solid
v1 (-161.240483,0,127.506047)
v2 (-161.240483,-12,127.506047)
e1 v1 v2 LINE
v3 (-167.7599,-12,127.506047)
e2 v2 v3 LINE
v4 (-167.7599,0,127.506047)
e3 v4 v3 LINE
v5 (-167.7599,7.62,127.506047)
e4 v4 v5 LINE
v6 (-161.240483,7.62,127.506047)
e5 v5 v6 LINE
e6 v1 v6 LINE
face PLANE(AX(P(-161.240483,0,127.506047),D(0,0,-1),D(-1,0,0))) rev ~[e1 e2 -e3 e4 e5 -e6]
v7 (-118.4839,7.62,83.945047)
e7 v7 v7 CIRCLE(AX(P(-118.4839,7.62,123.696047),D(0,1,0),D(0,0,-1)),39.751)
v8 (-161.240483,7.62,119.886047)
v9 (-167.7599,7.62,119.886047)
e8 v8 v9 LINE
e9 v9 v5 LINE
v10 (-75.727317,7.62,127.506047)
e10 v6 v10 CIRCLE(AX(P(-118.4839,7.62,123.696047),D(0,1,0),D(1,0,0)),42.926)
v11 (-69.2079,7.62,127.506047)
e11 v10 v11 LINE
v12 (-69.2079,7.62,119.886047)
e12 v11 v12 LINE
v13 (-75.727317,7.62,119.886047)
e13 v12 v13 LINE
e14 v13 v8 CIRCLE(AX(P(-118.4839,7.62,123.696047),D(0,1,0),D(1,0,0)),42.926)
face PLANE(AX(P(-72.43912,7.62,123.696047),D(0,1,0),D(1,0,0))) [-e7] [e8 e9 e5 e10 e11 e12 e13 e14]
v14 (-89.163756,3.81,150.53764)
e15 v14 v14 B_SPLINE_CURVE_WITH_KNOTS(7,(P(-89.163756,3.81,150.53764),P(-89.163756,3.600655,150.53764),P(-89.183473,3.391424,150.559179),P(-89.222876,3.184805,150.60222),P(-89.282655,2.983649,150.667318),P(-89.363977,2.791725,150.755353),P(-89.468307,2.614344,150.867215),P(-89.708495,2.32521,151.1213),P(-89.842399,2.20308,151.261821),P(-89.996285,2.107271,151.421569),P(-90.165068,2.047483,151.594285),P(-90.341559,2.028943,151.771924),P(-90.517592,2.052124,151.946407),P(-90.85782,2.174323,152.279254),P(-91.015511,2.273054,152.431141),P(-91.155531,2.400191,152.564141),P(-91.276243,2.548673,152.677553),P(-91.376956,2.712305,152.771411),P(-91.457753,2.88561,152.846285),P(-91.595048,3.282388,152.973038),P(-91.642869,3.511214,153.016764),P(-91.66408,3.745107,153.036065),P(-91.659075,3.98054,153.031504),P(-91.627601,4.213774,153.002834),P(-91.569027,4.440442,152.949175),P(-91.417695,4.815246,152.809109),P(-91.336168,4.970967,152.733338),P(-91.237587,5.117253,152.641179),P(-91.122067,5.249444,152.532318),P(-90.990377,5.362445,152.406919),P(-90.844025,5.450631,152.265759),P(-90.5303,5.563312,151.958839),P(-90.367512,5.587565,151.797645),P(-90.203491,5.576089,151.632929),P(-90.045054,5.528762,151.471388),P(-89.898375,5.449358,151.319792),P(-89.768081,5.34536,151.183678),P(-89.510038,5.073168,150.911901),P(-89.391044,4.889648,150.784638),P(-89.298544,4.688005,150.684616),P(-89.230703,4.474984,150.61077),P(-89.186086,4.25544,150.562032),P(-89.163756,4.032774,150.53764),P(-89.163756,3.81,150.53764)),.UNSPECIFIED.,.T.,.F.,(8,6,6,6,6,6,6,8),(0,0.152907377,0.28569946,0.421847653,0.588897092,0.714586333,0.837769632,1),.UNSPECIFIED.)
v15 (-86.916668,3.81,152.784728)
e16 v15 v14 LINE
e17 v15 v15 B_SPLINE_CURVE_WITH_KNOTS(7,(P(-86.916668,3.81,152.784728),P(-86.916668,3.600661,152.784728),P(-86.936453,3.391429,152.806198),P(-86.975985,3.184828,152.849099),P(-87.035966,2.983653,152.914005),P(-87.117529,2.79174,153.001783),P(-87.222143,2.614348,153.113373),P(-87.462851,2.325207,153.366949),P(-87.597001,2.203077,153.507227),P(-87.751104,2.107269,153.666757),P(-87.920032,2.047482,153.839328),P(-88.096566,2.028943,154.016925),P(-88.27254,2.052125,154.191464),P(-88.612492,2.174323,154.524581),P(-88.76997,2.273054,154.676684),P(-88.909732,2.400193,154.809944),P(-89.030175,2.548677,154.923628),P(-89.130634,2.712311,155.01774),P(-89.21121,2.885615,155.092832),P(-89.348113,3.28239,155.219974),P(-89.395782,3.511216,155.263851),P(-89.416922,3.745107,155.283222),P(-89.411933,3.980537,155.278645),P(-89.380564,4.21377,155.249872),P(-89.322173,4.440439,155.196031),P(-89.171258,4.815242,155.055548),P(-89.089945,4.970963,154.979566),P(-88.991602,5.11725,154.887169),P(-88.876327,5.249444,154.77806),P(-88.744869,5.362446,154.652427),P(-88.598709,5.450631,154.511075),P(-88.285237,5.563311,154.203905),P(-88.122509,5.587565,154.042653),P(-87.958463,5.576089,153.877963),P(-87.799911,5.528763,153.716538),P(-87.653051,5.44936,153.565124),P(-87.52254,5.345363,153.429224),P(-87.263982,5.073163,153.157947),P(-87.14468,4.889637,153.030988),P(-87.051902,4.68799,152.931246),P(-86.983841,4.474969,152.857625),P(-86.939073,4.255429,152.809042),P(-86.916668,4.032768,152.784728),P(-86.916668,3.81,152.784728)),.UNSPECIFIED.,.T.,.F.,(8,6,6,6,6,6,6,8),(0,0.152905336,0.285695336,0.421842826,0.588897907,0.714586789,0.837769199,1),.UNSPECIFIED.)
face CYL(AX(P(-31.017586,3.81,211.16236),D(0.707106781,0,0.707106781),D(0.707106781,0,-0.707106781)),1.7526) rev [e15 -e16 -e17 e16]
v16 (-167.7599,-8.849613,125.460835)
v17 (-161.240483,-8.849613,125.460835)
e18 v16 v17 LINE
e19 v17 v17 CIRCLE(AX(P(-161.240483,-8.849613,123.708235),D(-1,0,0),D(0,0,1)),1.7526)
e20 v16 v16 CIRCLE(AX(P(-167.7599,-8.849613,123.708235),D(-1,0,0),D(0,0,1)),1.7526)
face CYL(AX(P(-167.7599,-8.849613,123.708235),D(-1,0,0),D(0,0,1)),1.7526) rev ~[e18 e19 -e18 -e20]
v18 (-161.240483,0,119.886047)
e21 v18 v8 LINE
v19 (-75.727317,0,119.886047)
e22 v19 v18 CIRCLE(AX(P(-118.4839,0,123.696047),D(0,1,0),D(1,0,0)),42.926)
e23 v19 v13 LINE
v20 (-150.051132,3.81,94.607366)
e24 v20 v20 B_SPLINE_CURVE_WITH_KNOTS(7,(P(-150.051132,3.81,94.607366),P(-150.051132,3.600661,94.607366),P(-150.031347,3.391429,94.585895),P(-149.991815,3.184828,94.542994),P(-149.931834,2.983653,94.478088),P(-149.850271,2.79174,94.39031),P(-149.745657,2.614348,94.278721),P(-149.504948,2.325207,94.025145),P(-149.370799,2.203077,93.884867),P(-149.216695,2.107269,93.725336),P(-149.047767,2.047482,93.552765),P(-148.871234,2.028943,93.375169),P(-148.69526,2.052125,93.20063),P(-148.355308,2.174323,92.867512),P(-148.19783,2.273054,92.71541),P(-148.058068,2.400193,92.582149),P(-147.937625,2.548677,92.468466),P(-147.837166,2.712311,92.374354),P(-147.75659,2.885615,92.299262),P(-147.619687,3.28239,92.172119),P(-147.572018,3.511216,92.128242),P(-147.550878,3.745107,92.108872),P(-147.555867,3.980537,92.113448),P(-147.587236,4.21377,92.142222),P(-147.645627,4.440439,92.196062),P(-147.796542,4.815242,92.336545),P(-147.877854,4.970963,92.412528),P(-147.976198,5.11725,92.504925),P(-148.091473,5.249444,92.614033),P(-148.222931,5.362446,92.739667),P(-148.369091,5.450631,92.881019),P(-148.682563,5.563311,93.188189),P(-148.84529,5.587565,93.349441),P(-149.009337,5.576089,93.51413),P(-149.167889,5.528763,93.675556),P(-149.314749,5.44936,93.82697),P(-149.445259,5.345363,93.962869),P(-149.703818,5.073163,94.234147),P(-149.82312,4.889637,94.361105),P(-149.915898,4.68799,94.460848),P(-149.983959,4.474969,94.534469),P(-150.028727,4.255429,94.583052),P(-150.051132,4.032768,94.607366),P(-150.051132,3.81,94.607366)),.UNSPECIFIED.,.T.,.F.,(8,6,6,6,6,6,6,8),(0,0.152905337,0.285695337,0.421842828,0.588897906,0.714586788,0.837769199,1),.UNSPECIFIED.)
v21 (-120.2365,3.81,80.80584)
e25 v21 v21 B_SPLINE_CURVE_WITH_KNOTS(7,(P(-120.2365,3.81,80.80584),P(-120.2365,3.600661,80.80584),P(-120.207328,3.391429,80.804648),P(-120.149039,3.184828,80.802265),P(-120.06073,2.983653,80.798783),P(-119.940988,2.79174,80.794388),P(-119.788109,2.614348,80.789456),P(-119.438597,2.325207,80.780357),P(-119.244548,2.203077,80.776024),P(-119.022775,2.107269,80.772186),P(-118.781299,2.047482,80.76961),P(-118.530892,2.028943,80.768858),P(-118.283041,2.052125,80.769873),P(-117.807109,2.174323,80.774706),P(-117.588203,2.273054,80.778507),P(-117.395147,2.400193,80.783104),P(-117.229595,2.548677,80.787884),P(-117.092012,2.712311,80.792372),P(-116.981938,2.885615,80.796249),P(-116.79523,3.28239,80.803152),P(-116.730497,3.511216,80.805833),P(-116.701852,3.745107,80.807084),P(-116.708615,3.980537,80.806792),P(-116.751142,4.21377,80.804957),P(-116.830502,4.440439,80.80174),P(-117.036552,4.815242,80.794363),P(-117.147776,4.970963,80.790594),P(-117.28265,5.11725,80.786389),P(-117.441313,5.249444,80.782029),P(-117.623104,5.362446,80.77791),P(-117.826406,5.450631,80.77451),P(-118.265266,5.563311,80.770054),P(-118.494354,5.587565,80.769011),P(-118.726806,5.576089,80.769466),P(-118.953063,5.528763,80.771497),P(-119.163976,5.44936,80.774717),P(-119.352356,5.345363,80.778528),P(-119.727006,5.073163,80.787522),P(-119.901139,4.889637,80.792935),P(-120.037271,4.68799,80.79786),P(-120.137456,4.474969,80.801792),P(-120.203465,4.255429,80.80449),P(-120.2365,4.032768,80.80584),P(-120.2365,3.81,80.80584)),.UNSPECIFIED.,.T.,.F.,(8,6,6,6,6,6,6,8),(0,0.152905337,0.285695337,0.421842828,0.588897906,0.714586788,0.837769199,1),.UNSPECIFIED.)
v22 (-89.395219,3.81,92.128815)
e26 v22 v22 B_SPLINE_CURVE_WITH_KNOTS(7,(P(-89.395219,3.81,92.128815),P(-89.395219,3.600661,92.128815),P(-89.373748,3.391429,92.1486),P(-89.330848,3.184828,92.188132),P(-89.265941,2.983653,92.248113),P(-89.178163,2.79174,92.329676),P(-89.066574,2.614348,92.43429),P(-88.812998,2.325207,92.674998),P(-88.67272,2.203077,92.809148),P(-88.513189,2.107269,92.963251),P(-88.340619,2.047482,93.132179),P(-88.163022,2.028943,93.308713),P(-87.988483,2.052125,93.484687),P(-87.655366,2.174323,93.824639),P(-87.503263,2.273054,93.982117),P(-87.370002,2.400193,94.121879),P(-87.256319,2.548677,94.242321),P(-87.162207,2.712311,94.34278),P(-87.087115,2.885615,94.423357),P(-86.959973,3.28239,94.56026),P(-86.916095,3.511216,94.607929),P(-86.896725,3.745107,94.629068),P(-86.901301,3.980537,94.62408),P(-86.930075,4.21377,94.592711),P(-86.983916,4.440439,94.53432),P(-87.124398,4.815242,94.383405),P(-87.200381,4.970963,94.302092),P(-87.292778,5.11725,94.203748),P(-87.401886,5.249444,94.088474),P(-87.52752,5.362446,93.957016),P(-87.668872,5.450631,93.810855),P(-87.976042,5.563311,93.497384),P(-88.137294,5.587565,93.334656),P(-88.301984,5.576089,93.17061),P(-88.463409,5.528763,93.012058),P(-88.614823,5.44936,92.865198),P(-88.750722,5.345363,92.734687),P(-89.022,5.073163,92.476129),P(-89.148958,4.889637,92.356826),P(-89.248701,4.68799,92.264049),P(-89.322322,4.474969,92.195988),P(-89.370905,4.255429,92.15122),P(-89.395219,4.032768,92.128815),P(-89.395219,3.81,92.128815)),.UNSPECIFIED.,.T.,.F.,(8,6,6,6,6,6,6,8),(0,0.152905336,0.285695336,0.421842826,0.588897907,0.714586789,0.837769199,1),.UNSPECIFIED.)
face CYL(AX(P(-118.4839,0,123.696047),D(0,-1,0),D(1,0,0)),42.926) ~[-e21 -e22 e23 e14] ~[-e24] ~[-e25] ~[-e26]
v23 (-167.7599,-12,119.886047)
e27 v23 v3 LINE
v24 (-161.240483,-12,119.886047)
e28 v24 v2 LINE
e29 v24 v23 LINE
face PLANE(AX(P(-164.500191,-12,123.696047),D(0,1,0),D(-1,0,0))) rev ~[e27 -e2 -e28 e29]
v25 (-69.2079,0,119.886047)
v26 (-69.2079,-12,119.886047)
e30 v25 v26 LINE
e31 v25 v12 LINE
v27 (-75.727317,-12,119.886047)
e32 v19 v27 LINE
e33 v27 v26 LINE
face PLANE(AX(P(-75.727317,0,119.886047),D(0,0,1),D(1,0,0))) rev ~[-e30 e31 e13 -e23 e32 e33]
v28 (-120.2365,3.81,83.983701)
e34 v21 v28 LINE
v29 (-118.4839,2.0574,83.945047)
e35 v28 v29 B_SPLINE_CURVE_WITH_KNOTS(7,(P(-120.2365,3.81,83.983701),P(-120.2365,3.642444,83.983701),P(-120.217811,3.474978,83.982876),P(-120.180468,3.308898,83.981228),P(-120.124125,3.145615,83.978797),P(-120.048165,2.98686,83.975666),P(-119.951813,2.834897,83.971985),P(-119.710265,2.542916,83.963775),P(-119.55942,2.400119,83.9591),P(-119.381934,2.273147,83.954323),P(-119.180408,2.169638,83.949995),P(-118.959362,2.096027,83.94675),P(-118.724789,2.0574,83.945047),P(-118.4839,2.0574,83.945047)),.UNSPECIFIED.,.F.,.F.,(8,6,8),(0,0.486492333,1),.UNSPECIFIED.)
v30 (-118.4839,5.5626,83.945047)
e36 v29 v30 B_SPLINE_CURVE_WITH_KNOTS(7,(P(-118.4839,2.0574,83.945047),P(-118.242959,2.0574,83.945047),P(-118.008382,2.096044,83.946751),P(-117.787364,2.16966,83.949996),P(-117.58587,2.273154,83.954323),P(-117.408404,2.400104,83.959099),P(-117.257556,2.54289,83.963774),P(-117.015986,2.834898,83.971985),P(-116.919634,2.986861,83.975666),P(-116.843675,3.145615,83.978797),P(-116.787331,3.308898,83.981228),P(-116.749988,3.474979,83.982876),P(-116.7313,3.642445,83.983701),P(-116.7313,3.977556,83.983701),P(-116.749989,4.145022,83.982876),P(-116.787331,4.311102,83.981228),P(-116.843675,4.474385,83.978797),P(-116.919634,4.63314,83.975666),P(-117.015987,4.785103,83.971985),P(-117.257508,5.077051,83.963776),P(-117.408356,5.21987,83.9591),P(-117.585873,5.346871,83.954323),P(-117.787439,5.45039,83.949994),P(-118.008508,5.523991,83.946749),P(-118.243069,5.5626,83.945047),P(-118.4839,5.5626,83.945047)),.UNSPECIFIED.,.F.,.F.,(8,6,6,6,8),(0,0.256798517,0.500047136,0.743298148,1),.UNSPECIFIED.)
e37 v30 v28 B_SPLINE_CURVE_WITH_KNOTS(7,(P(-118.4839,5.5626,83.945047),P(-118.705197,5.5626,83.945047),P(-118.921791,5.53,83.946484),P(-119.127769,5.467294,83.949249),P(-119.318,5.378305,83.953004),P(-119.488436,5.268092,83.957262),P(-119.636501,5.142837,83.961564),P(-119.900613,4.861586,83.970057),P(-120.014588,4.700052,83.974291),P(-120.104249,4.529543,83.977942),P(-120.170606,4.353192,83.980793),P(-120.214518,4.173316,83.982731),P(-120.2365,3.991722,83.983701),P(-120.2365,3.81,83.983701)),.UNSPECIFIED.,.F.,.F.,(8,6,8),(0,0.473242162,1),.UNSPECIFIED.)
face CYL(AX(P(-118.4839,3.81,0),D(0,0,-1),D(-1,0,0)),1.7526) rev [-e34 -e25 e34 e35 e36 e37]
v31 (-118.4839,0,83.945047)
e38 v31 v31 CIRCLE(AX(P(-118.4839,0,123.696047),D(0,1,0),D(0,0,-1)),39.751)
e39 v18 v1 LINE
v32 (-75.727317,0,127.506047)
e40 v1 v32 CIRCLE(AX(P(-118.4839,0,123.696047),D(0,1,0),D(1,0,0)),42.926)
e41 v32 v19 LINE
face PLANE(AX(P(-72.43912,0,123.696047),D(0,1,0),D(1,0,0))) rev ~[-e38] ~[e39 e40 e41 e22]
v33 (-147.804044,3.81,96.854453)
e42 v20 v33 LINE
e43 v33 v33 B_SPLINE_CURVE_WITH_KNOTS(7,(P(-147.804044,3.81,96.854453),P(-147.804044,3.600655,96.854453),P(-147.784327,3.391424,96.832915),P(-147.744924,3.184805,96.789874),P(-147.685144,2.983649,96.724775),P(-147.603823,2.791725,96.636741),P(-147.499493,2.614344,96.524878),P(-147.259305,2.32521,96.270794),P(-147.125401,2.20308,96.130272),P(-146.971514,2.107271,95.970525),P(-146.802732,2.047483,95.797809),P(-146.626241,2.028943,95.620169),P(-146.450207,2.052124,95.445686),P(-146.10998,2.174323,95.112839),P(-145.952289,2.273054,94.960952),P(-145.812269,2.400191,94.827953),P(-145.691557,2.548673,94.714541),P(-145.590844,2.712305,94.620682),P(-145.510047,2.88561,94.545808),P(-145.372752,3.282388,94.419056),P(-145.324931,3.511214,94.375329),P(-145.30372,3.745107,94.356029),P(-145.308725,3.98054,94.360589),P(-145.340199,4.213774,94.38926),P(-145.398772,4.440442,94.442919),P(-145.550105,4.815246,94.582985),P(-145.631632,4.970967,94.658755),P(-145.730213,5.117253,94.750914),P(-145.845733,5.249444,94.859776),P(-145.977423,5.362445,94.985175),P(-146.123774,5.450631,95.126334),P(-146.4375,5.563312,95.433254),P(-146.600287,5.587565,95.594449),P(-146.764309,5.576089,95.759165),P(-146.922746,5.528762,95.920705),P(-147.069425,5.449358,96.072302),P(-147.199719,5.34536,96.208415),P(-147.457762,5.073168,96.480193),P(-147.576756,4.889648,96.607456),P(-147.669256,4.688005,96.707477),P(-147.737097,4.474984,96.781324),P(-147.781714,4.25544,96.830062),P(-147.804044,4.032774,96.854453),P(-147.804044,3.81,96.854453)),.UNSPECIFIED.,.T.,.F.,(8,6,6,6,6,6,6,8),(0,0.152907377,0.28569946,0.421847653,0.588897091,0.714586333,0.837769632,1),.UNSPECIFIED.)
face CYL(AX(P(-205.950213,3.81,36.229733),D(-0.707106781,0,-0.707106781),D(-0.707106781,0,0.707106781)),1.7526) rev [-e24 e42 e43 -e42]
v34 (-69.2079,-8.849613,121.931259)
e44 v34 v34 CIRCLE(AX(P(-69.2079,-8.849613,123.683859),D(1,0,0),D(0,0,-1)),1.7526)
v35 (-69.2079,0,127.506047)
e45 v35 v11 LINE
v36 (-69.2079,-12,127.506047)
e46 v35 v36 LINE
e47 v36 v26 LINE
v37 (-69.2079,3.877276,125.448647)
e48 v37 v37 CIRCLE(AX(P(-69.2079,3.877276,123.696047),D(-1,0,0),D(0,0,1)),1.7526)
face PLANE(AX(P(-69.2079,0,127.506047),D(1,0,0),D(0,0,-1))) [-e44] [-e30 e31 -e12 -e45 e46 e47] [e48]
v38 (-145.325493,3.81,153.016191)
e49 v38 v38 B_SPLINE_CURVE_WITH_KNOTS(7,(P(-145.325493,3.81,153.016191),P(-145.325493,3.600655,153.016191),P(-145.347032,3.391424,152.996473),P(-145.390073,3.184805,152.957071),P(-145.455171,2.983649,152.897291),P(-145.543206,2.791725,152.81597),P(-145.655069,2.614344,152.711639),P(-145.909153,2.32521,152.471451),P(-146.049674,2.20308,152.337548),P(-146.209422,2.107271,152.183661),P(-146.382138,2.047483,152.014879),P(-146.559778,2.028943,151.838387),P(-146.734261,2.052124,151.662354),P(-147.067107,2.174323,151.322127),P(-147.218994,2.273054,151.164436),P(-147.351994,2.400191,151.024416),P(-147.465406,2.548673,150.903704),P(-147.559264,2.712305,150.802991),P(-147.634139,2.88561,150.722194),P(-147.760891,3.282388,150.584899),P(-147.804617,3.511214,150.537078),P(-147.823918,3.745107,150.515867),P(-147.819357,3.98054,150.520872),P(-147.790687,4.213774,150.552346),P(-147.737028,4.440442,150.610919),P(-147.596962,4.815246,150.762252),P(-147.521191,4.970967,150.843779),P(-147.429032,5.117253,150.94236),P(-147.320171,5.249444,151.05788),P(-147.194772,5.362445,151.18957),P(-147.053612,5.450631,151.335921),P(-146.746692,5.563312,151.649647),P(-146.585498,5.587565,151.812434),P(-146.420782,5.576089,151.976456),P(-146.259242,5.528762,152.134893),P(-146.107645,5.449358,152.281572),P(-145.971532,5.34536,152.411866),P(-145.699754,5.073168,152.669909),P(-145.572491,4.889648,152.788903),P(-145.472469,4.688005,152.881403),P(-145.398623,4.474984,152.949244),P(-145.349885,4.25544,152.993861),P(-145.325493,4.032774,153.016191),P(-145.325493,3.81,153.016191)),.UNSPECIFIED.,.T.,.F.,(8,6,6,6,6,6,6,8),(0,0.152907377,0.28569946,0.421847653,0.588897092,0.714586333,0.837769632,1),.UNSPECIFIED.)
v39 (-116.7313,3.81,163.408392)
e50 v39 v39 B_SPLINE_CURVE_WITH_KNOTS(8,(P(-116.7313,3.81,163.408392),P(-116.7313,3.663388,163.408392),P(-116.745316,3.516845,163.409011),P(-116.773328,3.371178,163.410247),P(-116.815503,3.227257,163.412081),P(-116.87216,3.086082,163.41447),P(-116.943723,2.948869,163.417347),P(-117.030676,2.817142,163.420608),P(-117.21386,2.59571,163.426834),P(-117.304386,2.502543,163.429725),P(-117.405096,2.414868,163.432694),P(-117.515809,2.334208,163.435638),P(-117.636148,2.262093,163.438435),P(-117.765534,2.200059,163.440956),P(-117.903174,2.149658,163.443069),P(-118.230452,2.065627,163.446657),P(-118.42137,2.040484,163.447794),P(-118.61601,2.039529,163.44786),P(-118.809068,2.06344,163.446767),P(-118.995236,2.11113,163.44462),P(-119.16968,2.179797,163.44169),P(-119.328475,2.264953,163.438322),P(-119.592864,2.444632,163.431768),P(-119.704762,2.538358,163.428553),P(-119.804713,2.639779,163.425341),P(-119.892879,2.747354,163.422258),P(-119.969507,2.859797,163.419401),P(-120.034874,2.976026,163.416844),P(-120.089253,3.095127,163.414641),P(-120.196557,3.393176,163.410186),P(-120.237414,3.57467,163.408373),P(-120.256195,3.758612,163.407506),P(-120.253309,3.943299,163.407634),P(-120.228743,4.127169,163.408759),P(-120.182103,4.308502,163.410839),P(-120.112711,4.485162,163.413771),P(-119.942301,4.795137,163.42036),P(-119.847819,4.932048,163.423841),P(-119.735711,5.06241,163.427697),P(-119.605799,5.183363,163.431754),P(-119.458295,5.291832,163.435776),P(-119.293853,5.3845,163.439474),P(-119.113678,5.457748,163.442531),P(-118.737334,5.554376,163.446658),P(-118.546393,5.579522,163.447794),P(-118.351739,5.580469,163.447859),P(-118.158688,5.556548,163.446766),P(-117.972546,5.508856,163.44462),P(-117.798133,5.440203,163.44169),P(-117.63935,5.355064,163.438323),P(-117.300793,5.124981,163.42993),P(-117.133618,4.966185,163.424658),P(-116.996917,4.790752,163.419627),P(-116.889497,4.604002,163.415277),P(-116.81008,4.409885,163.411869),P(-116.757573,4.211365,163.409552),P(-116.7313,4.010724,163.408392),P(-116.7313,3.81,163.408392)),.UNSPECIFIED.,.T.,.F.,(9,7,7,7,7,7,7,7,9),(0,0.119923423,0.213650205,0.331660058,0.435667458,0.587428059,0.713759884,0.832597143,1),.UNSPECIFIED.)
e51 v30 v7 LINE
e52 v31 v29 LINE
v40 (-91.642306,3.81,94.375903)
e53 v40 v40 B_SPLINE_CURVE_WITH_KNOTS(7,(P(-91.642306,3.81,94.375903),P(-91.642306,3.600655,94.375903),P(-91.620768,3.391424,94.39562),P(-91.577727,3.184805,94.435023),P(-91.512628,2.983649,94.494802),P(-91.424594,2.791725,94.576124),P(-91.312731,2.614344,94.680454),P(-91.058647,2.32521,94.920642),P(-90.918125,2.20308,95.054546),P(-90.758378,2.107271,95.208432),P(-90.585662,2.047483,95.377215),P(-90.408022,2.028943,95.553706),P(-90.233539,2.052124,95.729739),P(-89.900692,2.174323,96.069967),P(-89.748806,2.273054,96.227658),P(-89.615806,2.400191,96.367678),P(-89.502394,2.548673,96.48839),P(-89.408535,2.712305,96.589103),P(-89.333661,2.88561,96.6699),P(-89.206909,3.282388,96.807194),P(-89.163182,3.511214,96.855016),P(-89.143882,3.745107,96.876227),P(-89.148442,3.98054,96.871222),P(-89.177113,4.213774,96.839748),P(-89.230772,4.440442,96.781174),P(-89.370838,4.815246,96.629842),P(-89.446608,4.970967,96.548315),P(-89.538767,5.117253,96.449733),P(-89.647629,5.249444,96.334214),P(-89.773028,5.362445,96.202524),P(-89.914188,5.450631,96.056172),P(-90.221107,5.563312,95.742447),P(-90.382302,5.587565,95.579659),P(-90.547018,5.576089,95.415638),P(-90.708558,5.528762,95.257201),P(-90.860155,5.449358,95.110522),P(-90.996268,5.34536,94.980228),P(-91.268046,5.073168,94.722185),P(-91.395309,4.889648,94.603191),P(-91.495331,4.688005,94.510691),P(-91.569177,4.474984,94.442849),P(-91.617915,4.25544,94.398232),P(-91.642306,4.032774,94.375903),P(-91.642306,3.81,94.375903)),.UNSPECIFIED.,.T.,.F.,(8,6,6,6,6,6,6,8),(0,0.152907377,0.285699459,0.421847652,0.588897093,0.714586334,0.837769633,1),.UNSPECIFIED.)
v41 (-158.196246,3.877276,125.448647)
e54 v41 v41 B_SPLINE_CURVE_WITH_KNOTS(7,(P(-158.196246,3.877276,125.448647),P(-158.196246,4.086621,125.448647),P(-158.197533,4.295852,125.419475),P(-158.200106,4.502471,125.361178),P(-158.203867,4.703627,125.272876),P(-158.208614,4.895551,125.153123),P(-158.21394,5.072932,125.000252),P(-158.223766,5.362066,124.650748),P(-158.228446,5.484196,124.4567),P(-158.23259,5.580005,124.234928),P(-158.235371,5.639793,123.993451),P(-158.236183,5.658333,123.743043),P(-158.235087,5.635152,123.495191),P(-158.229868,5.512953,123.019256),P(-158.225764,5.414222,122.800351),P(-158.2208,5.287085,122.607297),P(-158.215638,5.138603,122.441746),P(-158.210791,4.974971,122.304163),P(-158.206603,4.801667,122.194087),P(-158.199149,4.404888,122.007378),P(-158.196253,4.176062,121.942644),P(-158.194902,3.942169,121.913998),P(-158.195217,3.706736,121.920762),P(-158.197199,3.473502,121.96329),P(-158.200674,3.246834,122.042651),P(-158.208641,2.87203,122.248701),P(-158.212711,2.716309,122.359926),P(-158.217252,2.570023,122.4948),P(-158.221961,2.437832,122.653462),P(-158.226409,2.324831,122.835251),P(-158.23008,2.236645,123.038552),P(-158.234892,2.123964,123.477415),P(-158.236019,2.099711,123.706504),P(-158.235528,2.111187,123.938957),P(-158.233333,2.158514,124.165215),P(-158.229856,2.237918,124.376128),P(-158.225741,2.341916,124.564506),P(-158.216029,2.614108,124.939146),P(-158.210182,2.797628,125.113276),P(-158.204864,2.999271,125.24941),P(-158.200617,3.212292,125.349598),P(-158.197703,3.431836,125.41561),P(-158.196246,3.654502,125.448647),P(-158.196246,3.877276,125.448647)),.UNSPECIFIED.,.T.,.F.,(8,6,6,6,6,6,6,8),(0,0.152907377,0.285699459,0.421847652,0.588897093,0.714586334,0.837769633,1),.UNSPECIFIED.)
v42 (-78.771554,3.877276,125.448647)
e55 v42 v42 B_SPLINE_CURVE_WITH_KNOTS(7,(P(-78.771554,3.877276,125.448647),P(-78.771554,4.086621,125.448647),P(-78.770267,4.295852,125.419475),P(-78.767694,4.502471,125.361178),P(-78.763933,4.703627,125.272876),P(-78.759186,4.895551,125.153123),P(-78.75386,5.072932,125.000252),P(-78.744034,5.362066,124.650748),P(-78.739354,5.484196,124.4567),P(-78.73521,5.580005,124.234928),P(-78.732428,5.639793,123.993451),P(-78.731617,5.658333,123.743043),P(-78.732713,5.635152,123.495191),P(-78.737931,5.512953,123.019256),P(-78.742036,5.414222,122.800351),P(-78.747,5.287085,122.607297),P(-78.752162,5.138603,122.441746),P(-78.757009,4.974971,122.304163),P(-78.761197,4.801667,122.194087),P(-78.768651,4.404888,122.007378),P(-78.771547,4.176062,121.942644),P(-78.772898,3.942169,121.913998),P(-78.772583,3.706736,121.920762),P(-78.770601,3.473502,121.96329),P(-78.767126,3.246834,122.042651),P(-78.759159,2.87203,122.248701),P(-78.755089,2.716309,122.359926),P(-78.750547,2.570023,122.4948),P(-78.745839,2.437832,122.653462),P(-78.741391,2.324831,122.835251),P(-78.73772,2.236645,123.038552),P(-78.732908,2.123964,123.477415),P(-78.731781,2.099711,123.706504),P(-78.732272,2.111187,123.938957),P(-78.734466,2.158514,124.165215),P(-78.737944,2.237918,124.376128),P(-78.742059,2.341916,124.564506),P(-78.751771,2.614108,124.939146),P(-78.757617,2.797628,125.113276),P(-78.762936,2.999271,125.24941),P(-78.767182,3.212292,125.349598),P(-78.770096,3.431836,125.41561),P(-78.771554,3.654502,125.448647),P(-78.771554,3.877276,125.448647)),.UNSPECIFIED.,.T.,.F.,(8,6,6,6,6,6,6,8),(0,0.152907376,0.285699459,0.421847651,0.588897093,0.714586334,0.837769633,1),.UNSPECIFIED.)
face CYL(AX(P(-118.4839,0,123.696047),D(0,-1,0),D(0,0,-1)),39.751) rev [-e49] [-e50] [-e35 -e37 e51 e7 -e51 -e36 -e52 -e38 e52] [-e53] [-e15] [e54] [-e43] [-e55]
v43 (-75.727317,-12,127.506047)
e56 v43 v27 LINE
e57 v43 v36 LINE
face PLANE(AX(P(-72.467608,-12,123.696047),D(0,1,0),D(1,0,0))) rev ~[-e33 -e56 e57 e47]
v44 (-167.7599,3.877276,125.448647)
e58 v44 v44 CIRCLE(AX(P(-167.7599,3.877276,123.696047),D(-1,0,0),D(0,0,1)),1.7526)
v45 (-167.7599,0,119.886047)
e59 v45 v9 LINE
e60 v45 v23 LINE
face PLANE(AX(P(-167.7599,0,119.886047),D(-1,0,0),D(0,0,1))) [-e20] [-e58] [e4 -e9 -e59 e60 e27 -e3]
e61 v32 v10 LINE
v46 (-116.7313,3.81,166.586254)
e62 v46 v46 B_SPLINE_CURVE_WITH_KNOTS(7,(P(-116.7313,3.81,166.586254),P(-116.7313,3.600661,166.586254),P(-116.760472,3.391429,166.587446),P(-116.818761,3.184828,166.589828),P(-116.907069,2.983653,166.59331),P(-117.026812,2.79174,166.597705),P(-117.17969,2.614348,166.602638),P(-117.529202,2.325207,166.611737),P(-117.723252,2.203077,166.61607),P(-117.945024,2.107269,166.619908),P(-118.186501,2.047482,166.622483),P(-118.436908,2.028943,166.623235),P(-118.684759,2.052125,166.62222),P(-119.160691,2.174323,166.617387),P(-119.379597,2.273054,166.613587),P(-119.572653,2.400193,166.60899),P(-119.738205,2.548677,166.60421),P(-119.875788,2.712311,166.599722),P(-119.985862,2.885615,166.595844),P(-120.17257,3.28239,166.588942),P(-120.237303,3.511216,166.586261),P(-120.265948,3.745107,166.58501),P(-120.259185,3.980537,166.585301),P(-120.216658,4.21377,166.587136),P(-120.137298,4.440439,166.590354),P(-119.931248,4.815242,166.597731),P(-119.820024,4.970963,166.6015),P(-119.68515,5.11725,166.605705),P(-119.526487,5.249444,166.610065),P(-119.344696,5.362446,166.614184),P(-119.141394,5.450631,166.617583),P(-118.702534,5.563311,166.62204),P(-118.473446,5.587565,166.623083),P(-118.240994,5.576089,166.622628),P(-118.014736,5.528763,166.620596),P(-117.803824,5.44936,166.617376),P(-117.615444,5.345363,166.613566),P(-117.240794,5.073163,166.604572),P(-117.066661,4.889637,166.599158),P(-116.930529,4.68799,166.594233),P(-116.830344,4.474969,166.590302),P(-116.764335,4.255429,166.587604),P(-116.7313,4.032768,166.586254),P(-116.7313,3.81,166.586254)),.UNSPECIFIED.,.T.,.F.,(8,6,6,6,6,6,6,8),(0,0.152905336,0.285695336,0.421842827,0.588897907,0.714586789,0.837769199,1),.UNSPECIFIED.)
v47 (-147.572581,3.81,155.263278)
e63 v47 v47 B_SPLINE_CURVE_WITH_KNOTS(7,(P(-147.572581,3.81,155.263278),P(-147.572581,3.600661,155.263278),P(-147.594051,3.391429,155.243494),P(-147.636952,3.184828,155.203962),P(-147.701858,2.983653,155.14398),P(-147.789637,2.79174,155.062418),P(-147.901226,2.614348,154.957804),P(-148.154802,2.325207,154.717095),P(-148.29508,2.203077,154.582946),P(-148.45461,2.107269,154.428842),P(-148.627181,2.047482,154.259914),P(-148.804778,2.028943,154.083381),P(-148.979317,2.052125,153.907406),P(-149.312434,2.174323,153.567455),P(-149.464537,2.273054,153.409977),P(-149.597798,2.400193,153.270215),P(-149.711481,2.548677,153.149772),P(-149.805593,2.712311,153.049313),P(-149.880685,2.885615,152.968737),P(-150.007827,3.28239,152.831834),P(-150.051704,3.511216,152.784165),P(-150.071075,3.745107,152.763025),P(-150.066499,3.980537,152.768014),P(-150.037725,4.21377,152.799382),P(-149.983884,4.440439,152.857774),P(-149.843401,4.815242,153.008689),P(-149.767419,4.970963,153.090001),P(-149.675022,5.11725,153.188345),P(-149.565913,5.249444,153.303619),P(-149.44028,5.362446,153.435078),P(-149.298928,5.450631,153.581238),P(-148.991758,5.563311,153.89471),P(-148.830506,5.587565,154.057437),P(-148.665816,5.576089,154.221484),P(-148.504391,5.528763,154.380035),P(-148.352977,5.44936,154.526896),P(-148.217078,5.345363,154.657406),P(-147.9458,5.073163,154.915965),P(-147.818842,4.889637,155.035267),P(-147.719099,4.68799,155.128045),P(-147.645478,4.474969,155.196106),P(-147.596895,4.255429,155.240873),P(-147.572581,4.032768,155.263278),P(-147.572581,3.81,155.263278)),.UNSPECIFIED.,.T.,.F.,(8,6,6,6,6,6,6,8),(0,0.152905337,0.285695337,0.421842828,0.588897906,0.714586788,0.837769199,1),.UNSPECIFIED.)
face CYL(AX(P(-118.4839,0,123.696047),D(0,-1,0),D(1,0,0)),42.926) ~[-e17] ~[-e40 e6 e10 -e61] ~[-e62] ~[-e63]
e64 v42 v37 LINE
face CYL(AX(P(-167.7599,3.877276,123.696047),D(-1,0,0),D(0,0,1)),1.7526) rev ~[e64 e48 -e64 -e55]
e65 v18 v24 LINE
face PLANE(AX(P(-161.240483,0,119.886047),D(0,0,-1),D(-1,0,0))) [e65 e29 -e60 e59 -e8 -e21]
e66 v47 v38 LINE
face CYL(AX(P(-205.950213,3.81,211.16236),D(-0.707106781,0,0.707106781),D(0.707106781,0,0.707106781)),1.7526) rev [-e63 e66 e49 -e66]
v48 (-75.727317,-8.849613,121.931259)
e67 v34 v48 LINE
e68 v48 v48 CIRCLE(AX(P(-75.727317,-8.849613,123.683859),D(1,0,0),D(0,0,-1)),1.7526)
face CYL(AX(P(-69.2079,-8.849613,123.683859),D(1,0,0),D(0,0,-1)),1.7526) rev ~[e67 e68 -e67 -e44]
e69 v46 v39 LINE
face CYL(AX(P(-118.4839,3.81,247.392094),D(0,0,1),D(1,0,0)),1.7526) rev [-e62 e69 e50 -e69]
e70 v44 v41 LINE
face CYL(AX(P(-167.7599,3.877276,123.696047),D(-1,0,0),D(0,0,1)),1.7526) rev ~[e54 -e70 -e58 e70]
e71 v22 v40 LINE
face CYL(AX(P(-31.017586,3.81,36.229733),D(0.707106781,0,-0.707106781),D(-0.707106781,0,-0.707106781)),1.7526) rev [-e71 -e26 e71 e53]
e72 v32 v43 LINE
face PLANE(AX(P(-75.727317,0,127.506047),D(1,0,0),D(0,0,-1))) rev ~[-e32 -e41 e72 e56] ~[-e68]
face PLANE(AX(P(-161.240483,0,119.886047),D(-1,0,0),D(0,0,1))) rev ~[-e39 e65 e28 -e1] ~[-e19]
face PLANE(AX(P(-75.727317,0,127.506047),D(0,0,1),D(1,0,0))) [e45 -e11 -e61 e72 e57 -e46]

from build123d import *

# Parameters (mm, degrees)
SKETCH1_R           = 42.926
SKETCH1_R_2         = 39.751
BOSS_EXTRUDE1_DEPTH = 7.62
SKETCH2_R           = 1.7526
CUT_EXTRUDE1_DEPTH  = 95.7
CIRPATTERN1_COUNT   = 8
SKETCH6_R           = 1.7526
CUT_EXTRUDE2_DEPTH  = 119.35
BOSS_EXTRUDE2_START = -7.62
SKETCH8_W           = 6.519417161
SKETCH8_H           = 7.62
BOSS_EXTRUDE2_DEPTH = 12
SKETCH10_R          = 1.7526
CUT_EXTRUDE3_DEPTH  = 9
CIRPATTERN2_COUNT   = 2


with BuildPart() as part:
    # Sketch1 → Boss-Extrude1 (new body)
    # profile 1 of 3: a face of its own
    with BuildSketch(Plane(origin=(0, 0, 0), x_dir=(1, 0, 0), z_dir=(0, 1, 0))):
        with BuildLine():
            Line((-167.759899912, -119.886046801), (-167.759899912, -127.506046801))
            Line((-167.759899912, -127.506046801), (-161.24048275, -127.506046801))
            ThreePointArc((-161.24048275, -127.506046801), (-161.409899912, -123.696046801), (-161.24048275, -119.886046801))
            Line((-161.24048275, -119.886046801), (-167.759899912, -119.886046801))
        make_face()
    # profile 2 of 3: a face of its own
    with BuildSketch(Plane(origin=(0, 0, 0), x_dir=(1, 0, 0), z_dir=(0, 1, 0))):
        with Locations((-118.483899912, -123.696046801)):
            Circle(SKETCH1_R)
        with Locations(Location((-118.483899912, -123.696046801, 0), (0, 0, 90))):
            Circle(SKETCH1_R_2, mode=Mode.SUBTRACT)
    # profile 3 of 3: a face of its own
    with BuildSketch(Plane(origin=(0, 0, 0), x_dir=(1, 0, 0), z_dir=(0, 1, 0))):
        with BuildLine():
            ThreePointArc((-75.557899912, -123.696046801), (-75.600275118, -125.602929216), (-75.727317073, -127.506046801))
            Line((-75.727317073, -127.506046801), (-69.207899912, -127.506046801))
            Line((-69.207899912, -127.506046801), (-69.207899912, -119.886046801))
            Line((-69.207899912, -119.886046801), (-75.727317073, -119.886046801))
            ThreePointArc((-75.727317073, -119.886046801), (-75.600275118, -121.789164387), (-75.557899912, -123.696046801))
        make_face()
    extrude(amount=BOSS_EXTRUDE1_DEPTH)

    # Sketch2 → Cut-Extrude1 (cut)
    with BuildSketch(Plane.XY):
        with Locations(Location((-118.483899912, 3.81, 0), (0, 0, 180))):
            Circle(SKETCH2_R)
    cut_extrude1 = extrude(amount=CUT_EXTRUDE1_DEPTH, mode=Mode.SUBTRACT)

    # CirPattern1: Cut-Extrude1 ×8 about axis, 2 skipped
    cirpattern1_axis = Axis((-118.483899912, 7.62, 123.696046801), (0, 1, 0))
    add([cut_extrude1.rotate(cirpattern1_axis, i * 360 / CIRPATTERN1_COUNT) for i in range(1, CIRPATTERN1_COUNT) if i not in (2, 6)], mode=Mode.SUBTRACT)

    # Sketch6 → Cut-Extrude2 (cut)
    with BuildSketch(Plane.ZY.offset(167.759899912)):
        with Locations((123.696046801, 3.877276016)):
            Circle(SKETCH6_R)
    extrude(amount=-CUT_EXTRUDE2_DEPTH, mode=Mode.SUBTRACT)

    # Sketch8 → Boss-Extrude2 (add)
    with BuildSketch(Plane(origin=(0, 7.62, 0), x_dir=(1, 0, 0), z_dir=(0, 1, 0)).offset(BOSS_EXTRUDE2_START)):
        with Locations((-72.467608493, -123.696046801)):
            Rectangle(SKETCH8_W, SKETCH8_H)
    boss_extrude2 = extrude(amount=-BOSS_EXTRUDE2_DEPTH)

    # Sketch10 → Cut-Extrude3 (cut)
    with BuildSketch(Plane(origin=(-69.207899912, 0, 0), x_dir=(0, 0, -1), z_dir=(1, 0, 0))):
        with Locations((-123.683858545, -8.849612584)):
            Circle(SKETCH10_R)
    cut_extrude3 = extrude(amount=-CUT_EXTRUDE3_DEPTH, mode=Mode.SUBTRACT)

    # CirPattern2: Boss-Extrude2, Cut-Extrude3 ×2 about axis
    cirpattern2_axis = Axis((-118.483899912, 7.62, 123.696046801), (0, 1, 0))
    add([boss_extrude2.rotate(cirpattern2_axis, i * 360 / CIRPATTERN2_COUNT) for i in range(1, CIRPATTERN2_COUNT)])
    add([cut_extrude3.rotate(cirpattern2_axis, i * 360 / CIRPATTERN2_COUNT) for i in range(1, CIRPATTERN2_COUNT)], mode=Mode.SUBTRACT)


solid = part.part
